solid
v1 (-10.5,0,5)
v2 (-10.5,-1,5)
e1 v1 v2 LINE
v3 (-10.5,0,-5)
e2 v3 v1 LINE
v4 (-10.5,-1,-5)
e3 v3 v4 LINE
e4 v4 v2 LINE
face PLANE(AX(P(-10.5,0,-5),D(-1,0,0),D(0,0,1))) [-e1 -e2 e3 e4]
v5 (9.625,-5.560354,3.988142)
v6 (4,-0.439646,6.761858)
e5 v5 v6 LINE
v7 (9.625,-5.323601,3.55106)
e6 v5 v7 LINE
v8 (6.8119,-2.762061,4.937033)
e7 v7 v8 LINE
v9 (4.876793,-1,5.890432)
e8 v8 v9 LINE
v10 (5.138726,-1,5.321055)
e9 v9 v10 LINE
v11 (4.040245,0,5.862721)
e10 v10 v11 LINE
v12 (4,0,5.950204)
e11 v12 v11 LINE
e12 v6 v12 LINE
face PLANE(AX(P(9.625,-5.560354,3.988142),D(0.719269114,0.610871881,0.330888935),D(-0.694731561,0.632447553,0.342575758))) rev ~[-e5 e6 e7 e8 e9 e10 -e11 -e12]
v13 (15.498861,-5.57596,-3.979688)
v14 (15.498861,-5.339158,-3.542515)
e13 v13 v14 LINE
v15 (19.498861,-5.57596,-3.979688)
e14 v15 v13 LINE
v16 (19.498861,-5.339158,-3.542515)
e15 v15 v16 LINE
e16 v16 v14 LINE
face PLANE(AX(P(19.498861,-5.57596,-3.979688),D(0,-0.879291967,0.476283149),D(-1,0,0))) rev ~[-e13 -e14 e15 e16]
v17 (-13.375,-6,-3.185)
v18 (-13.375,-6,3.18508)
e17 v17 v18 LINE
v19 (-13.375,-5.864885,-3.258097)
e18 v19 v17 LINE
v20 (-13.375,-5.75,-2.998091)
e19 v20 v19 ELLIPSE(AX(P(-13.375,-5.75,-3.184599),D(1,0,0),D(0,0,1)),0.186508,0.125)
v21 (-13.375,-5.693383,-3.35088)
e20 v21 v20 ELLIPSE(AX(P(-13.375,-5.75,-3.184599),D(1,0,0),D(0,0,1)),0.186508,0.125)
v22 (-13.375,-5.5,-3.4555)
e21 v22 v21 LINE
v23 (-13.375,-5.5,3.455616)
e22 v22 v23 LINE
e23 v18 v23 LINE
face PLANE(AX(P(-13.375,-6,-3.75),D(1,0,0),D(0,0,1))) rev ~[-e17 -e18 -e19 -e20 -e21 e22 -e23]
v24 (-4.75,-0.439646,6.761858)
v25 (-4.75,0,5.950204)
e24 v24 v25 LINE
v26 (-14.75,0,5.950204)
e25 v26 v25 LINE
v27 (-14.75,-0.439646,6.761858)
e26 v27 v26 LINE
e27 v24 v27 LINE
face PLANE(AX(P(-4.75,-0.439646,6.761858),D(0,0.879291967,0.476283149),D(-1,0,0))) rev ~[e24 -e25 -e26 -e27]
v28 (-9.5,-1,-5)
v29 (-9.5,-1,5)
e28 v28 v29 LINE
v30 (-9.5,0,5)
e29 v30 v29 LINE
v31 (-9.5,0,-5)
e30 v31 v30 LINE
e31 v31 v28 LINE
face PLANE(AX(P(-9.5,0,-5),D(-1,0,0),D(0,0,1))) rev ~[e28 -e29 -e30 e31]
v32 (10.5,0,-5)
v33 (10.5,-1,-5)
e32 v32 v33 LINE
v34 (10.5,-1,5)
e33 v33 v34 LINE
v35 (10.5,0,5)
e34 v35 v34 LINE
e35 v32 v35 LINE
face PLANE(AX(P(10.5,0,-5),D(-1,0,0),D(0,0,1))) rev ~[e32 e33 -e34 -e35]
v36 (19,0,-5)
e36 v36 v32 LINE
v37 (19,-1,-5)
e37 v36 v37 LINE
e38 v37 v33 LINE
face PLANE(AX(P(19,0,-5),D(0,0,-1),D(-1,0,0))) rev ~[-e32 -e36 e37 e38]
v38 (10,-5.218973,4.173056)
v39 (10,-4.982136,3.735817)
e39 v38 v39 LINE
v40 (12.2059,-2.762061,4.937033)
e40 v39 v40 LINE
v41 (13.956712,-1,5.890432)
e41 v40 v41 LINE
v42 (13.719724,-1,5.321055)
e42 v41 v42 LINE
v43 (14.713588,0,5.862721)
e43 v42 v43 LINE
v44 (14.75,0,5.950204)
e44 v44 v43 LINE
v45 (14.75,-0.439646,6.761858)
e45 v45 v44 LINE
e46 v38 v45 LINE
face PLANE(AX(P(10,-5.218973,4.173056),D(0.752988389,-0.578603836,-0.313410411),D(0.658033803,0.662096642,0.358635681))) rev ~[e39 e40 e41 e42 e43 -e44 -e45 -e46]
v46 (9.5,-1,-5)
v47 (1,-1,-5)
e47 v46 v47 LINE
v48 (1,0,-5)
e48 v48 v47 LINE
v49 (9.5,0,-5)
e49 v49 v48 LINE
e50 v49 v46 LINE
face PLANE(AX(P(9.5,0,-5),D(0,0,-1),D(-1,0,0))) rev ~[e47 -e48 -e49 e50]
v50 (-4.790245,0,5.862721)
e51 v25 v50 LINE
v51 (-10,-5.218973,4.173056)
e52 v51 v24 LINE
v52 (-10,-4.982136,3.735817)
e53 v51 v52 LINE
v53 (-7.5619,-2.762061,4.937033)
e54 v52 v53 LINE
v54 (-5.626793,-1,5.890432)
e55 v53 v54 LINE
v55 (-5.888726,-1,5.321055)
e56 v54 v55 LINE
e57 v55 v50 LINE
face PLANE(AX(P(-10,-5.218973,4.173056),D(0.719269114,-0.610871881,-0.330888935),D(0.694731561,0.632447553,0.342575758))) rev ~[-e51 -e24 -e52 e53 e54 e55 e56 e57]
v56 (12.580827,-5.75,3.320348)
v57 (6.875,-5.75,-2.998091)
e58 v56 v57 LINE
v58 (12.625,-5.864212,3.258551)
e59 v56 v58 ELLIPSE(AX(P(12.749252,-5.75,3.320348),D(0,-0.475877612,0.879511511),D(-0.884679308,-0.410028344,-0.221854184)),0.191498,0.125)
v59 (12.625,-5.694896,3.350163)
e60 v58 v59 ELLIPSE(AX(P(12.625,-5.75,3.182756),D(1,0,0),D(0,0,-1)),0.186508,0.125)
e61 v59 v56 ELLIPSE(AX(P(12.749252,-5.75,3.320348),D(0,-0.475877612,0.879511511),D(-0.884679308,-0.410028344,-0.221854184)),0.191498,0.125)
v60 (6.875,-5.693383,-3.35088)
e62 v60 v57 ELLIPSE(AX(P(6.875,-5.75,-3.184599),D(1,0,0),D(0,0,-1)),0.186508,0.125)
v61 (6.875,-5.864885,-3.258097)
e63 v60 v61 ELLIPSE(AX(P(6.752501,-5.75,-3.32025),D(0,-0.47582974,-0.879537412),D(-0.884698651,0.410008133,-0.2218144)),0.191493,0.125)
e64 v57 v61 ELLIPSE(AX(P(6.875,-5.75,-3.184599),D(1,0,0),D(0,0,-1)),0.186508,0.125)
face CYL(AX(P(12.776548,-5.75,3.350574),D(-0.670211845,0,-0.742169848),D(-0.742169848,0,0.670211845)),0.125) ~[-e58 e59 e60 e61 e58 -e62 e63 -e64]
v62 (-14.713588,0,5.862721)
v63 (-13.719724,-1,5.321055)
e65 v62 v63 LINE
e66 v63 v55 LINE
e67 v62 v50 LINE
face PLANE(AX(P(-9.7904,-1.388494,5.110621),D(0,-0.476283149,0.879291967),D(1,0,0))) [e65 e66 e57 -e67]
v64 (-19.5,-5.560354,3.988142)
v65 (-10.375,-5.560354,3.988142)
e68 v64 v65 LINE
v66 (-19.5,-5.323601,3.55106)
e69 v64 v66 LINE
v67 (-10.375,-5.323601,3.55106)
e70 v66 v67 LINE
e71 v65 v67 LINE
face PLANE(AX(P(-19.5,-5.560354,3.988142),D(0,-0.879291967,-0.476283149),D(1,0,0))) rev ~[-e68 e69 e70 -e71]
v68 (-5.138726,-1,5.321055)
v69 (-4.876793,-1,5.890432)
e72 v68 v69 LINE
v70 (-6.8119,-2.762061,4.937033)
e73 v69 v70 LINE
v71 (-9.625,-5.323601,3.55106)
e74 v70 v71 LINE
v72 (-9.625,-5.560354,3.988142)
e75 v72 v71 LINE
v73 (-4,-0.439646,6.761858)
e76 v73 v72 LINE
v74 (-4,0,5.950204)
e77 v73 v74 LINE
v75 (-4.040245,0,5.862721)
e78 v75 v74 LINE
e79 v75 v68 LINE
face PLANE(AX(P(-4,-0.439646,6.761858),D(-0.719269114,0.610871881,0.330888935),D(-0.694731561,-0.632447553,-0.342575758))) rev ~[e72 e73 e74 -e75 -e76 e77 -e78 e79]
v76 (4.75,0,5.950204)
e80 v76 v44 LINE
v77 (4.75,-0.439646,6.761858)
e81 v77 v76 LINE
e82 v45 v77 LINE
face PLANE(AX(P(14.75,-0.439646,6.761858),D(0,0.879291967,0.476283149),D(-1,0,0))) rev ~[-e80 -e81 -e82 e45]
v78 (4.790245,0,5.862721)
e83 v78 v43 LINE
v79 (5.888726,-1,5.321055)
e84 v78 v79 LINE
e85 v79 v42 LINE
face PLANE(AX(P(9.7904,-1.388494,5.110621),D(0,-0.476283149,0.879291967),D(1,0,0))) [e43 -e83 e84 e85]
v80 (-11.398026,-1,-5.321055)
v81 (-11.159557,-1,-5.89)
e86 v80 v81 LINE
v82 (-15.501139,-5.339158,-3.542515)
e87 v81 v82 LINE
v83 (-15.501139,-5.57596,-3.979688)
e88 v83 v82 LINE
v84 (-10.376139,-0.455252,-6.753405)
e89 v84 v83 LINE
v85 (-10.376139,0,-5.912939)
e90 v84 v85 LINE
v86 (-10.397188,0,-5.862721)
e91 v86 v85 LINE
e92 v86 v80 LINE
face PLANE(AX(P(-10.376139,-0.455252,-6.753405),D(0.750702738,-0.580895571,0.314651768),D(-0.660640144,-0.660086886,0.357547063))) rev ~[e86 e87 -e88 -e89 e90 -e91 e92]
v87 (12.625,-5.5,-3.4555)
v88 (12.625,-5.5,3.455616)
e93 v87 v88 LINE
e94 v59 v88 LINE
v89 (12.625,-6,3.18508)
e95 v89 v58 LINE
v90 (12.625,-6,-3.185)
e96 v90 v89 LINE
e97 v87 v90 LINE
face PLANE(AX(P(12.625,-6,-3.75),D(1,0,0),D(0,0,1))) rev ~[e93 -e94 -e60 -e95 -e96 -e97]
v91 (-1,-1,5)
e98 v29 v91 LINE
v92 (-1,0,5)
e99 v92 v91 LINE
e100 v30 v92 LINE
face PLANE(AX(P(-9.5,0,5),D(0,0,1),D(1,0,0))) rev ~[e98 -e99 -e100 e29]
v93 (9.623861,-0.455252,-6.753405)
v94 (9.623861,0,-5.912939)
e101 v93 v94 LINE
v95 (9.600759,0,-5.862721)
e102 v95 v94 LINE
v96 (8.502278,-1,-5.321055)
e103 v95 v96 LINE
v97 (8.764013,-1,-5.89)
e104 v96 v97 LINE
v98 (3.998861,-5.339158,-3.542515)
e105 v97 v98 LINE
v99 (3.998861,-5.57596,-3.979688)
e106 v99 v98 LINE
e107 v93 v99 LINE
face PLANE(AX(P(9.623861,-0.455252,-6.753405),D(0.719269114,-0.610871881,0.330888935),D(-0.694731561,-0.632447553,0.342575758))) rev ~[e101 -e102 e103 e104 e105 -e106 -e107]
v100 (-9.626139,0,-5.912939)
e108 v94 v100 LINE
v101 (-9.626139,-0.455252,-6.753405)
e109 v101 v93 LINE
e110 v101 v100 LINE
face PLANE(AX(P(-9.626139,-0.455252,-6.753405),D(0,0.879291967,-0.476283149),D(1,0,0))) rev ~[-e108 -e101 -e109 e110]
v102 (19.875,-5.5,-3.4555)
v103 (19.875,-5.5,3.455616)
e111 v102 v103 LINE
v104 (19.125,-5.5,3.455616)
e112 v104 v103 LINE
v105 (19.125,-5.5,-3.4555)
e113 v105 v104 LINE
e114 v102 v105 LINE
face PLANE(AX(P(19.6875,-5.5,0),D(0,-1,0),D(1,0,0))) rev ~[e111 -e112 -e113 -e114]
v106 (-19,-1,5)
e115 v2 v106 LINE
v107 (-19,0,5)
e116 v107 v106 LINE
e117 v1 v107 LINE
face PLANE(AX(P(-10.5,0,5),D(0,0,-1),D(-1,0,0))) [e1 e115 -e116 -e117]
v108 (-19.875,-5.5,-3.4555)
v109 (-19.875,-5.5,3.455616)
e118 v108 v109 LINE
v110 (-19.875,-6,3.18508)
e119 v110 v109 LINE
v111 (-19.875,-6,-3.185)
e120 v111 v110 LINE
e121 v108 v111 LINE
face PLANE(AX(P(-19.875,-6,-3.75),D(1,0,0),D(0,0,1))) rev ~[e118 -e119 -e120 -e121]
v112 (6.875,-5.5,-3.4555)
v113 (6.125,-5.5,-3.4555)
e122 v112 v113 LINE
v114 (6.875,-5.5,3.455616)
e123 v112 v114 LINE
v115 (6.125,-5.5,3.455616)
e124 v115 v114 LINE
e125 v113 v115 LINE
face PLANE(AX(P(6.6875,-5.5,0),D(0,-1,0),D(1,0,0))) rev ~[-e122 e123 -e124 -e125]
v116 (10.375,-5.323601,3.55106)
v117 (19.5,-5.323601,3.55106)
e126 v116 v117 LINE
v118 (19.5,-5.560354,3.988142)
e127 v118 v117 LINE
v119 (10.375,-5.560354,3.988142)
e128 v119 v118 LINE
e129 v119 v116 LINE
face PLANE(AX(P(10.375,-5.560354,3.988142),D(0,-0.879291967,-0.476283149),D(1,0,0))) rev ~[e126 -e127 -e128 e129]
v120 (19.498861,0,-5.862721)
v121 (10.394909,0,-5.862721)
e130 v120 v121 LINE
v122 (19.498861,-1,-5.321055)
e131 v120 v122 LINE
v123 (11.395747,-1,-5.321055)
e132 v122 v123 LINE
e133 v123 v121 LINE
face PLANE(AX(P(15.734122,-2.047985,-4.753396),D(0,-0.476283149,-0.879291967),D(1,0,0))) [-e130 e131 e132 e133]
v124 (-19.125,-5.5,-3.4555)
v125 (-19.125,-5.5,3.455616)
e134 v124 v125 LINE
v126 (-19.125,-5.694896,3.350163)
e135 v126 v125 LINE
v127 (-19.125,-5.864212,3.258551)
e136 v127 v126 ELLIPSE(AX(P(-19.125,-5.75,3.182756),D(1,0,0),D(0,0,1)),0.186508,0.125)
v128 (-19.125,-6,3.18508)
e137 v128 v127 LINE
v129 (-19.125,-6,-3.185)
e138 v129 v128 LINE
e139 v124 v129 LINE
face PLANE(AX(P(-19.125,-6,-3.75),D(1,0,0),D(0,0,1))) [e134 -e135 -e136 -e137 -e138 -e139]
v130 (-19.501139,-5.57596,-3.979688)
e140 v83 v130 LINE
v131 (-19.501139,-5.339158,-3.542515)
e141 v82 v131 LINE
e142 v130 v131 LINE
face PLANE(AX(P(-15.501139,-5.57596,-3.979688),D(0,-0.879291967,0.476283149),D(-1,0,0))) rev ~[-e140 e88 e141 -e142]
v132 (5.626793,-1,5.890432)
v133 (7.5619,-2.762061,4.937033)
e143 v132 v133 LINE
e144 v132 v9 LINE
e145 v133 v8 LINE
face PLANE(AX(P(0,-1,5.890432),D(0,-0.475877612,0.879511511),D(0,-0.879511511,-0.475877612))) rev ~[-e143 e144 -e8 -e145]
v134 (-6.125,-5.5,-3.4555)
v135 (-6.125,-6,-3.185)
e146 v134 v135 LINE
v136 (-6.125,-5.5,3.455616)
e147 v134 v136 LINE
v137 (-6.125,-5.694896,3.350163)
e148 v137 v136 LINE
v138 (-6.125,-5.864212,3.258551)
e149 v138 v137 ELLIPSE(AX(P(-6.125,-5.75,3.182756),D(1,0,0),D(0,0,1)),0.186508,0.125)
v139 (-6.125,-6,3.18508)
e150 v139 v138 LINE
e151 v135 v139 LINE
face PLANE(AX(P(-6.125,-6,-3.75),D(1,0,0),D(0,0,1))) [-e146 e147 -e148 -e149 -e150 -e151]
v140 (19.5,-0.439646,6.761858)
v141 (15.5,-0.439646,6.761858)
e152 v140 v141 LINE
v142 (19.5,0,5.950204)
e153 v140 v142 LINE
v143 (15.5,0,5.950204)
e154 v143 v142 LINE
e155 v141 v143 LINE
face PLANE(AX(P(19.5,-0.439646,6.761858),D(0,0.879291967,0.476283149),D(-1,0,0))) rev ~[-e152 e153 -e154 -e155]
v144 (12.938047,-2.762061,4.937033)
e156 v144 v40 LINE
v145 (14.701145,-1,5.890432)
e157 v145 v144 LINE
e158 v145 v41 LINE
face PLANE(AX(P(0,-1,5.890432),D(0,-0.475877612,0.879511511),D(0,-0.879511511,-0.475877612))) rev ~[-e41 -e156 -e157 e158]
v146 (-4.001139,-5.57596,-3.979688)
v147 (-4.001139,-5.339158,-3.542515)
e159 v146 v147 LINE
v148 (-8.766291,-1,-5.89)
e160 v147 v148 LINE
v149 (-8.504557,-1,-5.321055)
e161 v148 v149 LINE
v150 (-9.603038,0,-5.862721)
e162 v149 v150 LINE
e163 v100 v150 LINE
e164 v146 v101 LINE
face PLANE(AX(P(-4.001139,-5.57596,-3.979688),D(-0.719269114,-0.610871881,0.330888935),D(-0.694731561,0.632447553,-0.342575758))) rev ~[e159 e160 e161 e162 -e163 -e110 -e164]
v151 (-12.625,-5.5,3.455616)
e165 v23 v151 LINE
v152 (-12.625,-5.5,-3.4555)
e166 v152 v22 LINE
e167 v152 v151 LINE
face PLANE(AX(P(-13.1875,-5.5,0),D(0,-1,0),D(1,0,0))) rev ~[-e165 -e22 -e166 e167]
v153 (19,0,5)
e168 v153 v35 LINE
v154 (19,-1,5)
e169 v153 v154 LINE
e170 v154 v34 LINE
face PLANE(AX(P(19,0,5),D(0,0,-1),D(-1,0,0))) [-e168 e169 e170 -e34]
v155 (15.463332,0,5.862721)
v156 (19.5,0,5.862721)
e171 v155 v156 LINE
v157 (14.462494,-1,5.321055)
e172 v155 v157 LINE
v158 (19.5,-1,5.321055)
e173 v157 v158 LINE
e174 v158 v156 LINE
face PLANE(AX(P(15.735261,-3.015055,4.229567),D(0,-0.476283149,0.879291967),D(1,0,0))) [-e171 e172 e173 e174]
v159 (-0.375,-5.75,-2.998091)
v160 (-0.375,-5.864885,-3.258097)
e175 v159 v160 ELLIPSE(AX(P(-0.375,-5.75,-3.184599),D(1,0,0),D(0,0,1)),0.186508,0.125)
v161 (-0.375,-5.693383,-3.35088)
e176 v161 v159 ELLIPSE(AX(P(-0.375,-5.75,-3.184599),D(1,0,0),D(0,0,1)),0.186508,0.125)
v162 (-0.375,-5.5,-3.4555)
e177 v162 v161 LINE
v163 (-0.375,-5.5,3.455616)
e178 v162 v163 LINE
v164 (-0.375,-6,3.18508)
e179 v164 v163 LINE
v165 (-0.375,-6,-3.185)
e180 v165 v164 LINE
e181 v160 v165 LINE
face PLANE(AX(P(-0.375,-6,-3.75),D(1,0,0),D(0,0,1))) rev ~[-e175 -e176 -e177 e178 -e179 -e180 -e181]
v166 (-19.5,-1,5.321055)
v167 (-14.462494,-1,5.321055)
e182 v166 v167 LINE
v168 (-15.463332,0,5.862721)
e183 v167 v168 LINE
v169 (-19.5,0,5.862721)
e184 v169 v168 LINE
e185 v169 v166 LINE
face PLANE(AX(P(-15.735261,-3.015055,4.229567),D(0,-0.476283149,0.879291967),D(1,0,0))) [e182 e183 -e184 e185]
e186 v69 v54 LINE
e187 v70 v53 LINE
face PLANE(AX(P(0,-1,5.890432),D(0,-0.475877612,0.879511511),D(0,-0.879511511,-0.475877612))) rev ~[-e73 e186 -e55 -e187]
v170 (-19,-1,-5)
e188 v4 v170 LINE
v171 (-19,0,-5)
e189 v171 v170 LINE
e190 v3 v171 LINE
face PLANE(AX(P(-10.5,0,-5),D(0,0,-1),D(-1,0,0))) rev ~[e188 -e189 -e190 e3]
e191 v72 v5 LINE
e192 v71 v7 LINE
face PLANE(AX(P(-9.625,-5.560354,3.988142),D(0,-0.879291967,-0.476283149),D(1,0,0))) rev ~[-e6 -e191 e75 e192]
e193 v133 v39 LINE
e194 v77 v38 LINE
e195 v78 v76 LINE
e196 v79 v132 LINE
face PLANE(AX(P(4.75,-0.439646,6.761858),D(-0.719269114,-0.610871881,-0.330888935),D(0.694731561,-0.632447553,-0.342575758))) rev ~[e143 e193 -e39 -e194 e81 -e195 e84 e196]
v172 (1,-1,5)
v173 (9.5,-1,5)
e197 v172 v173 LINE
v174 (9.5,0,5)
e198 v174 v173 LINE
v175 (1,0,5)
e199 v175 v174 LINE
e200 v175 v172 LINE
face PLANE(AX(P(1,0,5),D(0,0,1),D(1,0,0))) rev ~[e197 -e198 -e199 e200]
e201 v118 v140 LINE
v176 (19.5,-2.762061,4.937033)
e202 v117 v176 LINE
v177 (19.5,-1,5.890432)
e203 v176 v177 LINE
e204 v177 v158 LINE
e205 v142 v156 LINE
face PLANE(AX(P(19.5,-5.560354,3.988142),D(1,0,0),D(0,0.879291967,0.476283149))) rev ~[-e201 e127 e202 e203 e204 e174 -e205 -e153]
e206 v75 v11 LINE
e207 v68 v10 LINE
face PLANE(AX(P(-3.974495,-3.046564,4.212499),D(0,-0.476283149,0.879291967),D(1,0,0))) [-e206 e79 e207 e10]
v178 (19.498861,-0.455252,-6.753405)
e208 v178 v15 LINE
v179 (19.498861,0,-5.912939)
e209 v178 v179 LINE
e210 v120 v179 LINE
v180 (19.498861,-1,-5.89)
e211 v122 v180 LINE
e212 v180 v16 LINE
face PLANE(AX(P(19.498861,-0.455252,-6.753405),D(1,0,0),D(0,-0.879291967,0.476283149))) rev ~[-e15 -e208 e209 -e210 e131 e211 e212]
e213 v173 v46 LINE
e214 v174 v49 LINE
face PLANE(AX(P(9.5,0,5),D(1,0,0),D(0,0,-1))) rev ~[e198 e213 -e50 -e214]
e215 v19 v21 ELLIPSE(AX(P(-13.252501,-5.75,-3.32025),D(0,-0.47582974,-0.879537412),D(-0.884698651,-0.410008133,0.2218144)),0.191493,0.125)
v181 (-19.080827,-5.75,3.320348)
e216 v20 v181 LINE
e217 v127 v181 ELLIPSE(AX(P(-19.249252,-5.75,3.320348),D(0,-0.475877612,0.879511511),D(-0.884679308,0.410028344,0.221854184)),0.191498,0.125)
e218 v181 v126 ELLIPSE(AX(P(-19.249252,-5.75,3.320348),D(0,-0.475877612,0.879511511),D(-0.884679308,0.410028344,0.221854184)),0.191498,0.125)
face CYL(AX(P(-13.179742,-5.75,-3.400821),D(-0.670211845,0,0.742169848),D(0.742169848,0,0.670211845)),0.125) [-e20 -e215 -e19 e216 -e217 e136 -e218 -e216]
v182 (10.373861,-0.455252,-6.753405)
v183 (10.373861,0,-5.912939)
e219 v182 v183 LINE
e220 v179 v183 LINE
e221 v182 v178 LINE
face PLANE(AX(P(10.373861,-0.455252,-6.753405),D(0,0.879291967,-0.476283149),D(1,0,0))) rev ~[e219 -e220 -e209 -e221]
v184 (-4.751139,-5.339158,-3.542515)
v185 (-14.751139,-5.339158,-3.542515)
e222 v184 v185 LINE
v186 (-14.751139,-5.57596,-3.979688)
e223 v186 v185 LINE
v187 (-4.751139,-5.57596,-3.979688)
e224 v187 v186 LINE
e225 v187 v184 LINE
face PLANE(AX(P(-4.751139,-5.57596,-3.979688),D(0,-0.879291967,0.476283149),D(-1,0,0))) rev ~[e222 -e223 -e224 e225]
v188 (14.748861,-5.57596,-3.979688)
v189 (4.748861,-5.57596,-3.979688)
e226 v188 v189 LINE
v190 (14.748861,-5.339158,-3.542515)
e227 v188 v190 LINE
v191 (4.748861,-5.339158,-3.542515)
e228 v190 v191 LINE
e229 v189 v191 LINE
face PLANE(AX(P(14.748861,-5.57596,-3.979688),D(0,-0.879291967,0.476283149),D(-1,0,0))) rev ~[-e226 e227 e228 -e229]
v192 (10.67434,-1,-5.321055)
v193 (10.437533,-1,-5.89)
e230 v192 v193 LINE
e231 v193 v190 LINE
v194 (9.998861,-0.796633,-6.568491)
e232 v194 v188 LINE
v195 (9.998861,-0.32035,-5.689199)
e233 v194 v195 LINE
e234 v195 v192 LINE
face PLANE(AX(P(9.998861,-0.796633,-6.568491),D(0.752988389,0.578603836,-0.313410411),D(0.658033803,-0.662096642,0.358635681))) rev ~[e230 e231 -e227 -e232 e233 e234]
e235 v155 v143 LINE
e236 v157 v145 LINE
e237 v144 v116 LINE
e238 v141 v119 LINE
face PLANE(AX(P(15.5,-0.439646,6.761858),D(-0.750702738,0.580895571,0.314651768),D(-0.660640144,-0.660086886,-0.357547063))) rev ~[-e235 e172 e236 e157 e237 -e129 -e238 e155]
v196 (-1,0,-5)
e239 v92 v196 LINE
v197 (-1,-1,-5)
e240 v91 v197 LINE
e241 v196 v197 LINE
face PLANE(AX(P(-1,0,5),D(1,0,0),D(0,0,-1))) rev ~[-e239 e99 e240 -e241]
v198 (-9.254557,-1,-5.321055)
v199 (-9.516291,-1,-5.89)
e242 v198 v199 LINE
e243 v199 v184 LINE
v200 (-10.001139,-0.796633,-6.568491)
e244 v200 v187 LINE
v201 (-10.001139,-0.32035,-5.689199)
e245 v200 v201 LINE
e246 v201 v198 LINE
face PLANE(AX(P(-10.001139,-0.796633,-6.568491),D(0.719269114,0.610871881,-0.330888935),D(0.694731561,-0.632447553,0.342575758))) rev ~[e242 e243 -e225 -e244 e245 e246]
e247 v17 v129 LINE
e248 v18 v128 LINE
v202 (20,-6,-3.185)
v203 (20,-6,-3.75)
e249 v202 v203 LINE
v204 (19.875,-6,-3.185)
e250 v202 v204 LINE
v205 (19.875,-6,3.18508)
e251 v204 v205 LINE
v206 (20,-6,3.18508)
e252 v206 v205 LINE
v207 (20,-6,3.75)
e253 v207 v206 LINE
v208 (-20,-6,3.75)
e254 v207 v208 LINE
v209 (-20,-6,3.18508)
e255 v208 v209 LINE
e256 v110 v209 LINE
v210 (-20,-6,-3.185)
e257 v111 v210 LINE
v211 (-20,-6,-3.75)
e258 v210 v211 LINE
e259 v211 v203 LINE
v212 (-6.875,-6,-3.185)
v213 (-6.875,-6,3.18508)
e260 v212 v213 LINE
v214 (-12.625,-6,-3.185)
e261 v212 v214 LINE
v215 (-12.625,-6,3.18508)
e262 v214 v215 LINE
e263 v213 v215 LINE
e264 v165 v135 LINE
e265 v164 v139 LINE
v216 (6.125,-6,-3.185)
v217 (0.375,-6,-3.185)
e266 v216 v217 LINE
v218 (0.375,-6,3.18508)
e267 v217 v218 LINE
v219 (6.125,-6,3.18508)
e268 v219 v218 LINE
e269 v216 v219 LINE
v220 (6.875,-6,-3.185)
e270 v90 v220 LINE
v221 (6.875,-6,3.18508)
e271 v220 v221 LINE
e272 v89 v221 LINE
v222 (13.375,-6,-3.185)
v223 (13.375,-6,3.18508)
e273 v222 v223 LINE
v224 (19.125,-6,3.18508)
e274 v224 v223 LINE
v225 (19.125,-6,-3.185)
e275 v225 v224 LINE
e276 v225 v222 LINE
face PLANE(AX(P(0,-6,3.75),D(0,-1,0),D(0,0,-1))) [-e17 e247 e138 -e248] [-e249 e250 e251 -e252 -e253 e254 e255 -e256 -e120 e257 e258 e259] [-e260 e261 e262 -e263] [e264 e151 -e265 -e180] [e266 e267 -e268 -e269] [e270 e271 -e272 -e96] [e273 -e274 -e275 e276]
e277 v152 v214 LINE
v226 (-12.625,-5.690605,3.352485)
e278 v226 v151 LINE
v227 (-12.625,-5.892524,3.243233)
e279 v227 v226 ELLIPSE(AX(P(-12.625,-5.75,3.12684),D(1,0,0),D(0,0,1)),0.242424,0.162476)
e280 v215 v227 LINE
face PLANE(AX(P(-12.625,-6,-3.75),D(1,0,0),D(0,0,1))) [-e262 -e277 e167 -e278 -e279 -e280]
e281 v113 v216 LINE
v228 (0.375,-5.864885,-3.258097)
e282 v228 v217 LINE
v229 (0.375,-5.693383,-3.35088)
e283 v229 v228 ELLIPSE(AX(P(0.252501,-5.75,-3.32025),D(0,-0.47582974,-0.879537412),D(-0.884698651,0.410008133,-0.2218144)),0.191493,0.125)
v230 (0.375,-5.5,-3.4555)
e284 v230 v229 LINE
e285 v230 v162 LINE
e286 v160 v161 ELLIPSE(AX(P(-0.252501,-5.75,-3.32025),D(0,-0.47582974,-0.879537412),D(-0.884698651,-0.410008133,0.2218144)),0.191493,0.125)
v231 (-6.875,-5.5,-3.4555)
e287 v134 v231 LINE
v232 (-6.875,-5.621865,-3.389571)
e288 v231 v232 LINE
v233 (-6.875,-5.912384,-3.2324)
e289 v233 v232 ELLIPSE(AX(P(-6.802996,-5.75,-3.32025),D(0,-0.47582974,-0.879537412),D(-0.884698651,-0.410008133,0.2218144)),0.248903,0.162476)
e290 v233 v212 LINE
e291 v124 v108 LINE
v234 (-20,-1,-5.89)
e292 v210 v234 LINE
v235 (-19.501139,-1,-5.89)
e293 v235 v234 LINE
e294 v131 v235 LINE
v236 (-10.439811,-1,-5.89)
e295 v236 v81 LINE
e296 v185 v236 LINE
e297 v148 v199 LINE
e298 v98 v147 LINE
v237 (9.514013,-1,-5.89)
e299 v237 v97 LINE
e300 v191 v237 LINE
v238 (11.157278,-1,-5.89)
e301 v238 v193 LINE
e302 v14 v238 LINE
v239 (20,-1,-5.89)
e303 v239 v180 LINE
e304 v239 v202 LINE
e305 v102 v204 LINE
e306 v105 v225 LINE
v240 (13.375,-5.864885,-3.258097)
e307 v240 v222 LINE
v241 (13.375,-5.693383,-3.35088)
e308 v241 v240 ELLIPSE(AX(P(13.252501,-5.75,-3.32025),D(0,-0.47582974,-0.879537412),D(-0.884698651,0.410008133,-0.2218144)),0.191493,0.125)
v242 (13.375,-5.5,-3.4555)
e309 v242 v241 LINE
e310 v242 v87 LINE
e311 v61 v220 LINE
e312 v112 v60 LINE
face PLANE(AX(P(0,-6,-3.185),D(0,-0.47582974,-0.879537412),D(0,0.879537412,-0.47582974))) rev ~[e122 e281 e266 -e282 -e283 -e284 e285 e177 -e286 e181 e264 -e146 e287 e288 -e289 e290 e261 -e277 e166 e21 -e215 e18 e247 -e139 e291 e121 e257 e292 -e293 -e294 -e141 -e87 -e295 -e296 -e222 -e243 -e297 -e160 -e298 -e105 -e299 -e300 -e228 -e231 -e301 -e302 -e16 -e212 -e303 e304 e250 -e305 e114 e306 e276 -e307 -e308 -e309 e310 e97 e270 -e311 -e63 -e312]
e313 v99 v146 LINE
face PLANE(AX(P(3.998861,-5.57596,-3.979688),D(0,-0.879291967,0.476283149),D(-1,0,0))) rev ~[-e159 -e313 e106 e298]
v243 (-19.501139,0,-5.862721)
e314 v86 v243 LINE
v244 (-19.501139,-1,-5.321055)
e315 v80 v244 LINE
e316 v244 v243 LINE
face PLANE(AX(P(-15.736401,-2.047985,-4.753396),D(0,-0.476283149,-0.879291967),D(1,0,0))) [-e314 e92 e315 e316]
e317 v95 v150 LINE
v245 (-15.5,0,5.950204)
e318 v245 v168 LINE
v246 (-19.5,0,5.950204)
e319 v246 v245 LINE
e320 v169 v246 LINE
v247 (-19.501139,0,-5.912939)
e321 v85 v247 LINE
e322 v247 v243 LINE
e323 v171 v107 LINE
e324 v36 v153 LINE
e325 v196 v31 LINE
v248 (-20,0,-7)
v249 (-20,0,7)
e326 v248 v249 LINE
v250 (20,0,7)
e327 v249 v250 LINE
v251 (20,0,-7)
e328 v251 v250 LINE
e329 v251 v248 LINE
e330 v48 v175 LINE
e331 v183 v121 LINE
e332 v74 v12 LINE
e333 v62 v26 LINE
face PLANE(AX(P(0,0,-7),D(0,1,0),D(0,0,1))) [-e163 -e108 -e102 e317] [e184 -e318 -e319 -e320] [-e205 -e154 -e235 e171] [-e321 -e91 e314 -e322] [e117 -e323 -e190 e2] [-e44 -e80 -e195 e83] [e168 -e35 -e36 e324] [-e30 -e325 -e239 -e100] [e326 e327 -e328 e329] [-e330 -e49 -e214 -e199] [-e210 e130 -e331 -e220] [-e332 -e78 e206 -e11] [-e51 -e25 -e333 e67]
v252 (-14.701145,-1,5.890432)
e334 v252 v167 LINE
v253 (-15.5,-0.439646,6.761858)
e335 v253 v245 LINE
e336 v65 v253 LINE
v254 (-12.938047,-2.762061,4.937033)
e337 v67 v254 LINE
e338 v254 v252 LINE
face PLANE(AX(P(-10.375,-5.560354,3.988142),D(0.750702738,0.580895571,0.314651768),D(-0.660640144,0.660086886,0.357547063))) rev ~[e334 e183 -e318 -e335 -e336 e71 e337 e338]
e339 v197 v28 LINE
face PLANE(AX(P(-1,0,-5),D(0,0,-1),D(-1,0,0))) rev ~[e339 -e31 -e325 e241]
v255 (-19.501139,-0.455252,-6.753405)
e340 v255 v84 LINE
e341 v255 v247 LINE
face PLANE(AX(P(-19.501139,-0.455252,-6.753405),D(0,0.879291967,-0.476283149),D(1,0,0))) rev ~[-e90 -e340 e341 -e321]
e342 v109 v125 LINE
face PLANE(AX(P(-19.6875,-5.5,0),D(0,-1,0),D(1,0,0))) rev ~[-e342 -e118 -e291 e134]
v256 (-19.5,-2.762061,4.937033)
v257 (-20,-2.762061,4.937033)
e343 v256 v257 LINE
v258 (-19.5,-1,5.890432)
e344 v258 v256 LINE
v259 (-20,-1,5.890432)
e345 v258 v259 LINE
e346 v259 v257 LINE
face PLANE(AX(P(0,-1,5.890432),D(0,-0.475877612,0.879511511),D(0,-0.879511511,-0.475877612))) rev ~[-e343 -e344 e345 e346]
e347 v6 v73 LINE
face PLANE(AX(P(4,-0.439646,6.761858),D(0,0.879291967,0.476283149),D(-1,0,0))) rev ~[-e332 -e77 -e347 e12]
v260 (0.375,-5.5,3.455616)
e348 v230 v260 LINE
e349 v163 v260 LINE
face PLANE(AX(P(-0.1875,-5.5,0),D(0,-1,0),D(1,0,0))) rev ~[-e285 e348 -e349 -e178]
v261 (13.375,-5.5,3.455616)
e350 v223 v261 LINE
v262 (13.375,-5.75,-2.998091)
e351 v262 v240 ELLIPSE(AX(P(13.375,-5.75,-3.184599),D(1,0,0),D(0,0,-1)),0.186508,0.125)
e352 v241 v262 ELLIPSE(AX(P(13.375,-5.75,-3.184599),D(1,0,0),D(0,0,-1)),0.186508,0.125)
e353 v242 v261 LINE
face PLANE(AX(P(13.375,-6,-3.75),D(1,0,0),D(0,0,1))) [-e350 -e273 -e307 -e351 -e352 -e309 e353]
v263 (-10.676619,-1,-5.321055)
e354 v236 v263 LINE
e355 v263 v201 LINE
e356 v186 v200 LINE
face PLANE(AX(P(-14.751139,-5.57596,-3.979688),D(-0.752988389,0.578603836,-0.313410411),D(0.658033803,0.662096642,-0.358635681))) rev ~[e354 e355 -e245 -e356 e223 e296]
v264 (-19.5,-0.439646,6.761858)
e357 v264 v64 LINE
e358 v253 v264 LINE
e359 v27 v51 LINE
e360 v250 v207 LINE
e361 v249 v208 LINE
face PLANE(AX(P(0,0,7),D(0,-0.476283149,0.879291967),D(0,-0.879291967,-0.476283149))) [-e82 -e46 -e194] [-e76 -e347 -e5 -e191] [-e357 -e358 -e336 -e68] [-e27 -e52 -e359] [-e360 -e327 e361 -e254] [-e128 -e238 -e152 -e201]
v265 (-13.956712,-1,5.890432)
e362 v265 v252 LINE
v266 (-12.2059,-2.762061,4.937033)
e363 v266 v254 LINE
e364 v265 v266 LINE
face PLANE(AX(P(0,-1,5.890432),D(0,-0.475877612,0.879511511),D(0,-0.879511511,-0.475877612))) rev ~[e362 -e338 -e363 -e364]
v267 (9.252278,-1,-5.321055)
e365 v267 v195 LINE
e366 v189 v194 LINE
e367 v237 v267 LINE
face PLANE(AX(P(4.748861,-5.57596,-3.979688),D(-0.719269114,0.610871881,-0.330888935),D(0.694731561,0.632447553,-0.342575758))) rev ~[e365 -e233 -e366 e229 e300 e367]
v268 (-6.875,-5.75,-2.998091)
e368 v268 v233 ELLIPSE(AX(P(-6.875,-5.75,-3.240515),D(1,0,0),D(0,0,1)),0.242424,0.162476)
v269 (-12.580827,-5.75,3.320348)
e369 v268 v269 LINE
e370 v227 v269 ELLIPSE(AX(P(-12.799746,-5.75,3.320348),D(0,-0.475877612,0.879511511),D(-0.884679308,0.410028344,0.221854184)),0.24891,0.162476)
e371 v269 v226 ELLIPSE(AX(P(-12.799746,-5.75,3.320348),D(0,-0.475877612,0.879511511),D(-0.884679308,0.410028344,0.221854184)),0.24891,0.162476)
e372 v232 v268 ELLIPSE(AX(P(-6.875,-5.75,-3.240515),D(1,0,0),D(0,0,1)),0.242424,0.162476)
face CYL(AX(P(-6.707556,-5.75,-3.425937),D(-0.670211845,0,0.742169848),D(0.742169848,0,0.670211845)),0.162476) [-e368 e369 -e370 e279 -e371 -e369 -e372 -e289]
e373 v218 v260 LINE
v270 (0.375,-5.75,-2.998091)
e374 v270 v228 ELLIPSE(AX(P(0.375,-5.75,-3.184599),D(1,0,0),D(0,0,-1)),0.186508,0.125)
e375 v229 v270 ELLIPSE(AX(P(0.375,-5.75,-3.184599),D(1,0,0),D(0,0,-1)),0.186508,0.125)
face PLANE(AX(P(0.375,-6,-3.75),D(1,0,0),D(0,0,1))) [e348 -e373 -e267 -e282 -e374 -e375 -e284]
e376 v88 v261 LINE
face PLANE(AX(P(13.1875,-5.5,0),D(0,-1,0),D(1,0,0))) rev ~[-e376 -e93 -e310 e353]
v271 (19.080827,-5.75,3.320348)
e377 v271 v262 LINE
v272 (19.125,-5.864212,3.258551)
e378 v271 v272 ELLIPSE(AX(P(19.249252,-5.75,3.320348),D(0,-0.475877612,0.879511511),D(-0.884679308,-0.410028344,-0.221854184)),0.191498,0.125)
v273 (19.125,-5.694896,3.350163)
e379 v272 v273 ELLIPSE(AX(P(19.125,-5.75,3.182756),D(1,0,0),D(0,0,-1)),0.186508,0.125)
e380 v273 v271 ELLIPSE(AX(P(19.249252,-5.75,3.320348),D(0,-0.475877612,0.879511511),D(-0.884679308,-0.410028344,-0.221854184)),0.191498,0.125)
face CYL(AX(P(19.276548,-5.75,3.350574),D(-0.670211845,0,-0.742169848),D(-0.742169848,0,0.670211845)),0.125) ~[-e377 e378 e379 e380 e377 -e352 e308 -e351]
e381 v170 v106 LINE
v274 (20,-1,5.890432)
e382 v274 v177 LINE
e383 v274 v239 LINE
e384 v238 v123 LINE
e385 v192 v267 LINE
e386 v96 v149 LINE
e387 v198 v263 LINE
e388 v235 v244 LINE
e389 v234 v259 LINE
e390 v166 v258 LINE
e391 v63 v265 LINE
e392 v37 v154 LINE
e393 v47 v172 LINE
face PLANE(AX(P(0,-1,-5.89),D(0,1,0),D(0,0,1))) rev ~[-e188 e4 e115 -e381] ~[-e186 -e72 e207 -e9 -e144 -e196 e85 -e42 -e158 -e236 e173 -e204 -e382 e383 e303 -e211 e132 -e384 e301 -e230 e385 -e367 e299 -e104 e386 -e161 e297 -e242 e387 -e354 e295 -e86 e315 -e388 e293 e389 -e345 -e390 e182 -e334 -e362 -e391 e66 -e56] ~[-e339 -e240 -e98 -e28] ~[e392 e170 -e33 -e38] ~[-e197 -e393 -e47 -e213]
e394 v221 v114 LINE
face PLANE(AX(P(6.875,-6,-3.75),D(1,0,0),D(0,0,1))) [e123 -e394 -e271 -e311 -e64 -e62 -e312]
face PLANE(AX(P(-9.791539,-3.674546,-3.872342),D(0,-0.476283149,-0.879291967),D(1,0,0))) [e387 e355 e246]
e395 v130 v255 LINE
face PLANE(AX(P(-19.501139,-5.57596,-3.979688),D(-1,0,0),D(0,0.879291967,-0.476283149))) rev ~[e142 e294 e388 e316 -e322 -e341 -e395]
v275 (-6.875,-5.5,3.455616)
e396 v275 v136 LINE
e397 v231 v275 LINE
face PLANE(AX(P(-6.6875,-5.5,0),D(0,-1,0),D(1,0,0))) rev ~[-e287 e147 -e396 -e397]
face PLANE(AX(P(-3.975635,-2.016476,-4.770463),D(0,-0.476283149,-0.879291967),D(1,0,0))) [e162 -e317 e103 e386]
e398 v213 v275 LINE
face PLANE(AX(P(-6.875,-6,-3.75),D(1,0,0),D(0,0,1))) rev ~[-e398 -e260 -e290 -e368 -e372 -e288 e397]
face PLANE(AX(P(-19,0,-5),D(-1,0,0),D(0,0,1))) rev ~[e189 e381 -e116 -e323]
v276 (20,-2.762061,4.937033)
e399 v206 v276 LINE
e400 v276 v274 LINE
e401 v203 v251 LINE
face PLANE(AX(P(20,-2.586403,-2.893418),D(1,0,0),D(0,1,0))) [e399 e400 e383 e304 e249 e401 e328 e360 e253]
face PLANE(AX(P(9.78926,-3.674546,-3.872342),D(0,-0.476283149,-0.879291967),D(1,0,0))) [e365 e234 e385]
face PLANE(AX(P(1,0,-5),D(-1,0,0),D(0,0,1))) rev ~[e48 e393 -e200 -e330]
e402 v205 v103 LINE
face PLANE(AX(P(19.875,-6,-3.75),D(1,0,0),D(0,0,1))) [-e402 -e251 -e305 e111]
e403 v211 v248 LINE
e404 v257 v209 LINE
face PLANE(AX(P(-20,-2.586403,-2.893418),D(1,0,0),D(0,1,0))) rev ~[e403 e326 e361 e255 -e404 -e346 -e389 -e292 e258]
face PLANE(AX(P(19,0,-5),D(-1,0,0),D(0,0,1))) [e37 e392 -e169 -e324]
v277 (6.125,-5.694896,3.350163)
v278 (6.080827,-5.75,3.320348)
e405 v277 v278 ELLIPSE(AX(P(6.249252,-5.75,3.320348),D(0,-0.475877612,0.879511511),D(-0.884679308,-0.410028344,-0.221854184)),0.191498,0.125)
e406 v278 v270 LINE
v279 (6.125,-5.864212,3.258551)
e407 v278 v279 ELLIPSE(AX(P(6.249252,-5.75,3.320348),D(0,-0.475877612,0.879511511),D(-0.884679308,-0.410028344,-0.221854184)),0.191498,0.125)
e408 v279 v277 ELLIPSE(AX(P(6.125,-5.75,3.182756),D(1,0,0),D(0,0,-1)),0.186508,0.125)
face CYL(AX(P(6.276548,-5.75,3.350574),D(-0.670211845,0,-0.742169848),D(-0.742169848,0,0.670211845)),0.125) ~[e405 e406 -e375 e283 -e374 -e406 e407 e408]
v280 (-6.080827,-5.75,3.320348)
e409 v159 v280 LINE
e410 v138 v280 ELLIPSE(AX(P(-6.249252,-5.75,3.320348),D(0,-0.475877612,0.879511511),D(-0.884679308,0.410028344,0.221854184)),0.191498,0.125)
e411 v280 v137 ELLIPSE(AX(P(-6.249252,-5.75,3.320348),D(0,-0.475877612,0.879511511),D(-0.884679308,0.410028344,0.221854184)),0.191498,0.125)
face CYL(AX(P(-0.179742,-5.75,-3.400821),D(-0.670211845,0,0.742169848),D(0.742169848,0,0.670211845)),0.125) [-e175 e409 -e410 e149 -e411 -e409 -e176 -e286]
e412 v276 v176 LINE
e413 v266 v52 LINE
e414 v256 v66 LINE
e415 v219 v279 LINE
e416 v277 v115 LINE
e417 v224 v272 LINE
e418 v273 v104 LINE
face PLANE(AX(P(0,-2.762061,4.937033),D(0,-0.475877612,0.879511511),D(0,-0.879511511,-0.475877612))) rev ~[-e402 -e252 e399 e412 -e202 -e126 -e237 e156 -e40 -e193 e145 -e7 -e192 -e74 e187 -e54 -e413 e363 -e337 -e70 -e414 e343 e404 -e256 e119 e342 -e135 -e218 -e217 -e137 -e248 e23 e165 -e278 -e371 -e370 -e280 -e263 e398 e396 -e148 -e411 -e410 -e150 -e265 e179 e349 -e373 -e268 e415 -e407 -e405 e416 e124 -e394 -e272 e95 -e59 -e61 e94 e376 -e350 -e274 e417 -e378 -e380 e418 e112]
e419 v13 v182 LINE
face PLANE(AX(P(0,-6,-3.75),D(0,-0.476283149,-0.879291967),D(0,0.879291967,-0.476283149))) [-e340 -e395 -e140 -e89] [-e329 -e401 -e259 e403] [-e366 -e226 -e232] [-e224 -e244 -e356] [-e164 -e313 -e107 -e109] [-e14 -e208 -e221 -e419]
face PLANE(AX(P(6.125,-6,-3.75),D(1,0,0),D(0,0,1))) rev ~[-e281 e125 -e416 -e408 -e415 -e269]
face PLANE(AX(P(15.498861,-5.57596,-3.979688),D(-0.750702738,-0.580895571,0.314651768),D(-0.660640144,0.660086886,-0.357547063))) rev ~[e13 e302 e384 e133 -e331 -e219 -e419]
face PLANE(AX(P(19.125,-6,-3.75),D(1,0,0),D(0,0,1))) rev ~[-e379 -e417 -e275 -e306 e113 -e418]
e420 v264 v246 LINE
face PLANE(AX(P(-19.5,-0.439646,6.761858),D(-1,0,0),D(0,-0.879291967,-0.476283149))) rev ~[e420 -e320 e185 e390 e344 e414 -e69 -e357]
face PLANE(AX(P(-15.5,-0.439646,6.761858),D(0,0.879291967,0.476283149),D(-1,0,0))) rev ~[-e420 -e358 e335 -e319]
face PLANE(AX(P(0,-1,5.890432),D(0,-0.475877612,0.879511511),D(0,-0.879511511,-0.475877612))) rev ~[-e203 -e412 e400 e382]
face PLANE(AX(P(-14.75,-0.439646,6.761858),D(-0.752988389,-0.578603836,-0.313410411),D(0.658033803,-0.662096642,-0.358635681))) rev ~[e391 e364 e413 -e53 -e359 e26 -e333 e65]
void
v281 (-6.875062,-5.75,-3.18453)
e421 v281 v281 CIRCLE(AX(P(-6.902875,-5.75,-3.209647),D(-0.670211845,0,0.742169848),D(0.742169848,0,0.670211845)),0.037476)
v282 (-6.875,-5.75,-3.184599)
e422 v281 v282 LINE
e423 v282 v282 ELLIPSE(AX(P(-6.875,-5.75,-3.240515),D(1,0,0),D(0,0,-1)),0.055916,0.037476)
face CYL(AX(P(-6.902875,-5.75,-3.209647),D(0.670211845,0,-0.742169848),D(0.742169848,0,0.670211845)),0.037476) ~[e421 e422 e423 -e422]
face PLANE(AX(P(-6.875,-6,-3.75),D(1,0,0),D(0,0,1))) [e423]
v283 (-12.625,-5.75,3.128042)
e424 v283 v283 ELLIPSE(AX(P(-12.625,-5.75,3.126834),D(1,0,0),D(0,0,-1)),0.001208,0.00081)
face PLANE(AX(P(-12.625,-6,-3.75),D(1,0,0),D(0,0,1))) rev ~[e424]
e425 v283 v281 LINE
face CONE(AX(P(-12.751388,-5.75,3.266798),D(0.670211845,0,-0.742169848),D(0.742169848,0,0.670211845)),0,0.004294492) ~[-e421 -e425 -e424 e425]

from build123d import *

# Parameters (mm, degrees)
F1_DEPTH      = 20
F1_DEPTH_BACK = 20
F3_DEPTH      = 24
F3_DEPTH_BACK = 24
F4_W          = 0.375
F4_H          = 7.5
F5_DEPTH      = 0.5
F16_W         = 8.5
F16_H         = 10
F17_DEPTH     = 1
F18_DEPTH     = 1
F19_DEPTH     = 1


with BuildPart() as f1:
    # F0 (on Right) → F1 (new body, two sides)
    with BuildSketch(Plane.YZ) as f1_sk:
        Polygon((0, -7), (0, 0), (-6, 0), (-6, -3.75), align=None)
        Polygon((-6, 0), (0, 0), (0, 7), (-6, 3.75), align=None)
    extrude(amount=F1_DEPTH)
    extrude(f1_sk.sketch, amount=-F1_DEPTH_BACK)

    # F2 (on Right) → F3 (cut, two sides)
    with BuildSketch(Plane.YZ) as f3_sk:
        Polygon((-1, 5.8904322458), (-2.7620611939, 4.9370331568), (-6, 3.185080433), (-6, -3.185), (-1, -5.89), (-1, 0), align=None)
    extrude(amount=-F3_DEPTH, mode=Mode.SUBTRACT)
    extrude(f3_sk.sketch, amount=F3_DEPTH_BACK, mode=Mode.SUBTRACT)

    # F4 (on face) → F5 (join)
    with BuildSketch(Plane.XZ.offset(6)):
        with Locations((-0.1875, 0)):
            Rectangle(F4_W, F4_H)
        with Locations((0.1875, 0)):
            Rectangle(F4_W, F4_H)
        with Locations((6.6875, 0)):
            Rectangle(F4_W, F4_H)
        with Locations((6.3125, 0)):
            Rectangle(F4_W, F4_H)
        with Locations((13.1875, 0)):
            Rectangle(F4_W, F4_H)
        with Locations((12.8125, 0)):
            Rectangle(F4_W, F4_H)
        with Locations((19.6875, 0)):
            Rectangle(F4_W, F4_H)
        with Locations((19.3125, 0)):
            Rectangle(F4_W, F4_H)
        with Locations((-6.6875, 0)):
            Rectangle(F4_W, F4_H)
        with Locations((-6.3125, 0)):
            Rectangle(F4_W, F4_H)
        with Locations((-13.1875, 0)):
            Rectangle(F4_W, F4_H)
        with Locations((-12.8125, 0)):
            Rectangle(F4_W, F4_H)
        with Locations((-19.6875, 0)):
            Rectangle(F4_W, F4_H)
        with Locations((-19.3125, 0)):
            Rectangle(F4_W, F4_H)
    extrude(amount=-F5_DEPTH)

    # F7 (on offset) → F8 (revolve)
    with BuildSketch(Plane.XZ.offset(5.75)):
        Polygon((-13.086971221, -3.3170442338), (-19.1837764068, 3.4343508854), (-19.2789044945, 3.353184308), (-13.3750620526, -3.1845304184), (-13.1797424519, -3.4008207144), align=None)
    revolve(axis=Axis((-16.3269832736, -5.75, 0.0843269448), (-0.6702118448, 0, 0.7421698479)))

    # F7 (on offset) → F9 (revolve)
    with BuildSketch(Plane.XZ.offset(5.75)):
        Polygon((-6.586971221, -3.3170442338), (-12.6837764068, 3.4343508854), (-12.8043608498, 3.3254578575), (-12.7513883635, 3.2667979242), (-6.8750620526, -3.1845304184), (-6.6797424519, -3.4008207144), align=None)
    revolve(axis=Axis((-12.7778746067, -5.75, 3.2961278908), (-0.6702118448, 0, 0.7421698479)))

    # F7 (on offset) → F10 (revolve)
    with BuildSketch(Plane.XZ.offset(5.75)):
        Polygon((-6.2765476378, 3.3505744048), (-0.3750620526, -3.1845304184), (-0.1797424519, -3.4008207144), (-0.086971221, -3.3170442338), (-6.1837764068, 3.4343508854), align=None)
    revolve(axis=Axis((-3.3258048452, -5.75, 0.0830219932), (-0.6702118448, 0, 0.7421698479)))

    # F7 (on offset) → F11 (revolve)
    with BuildSketch(Plane.XZ.offset(5.75)):
        Polygon((0.086971221, -3.3170442338), (0.1797424519, -3.4008207144), (0.3750620526, -3.1845304184), (6.2765476378, 3.3505744048), (6.1837764068, 3.4343508854), align=None)
    revolve(axis=Axis((3.3258048452, -5.75, 0.0830219932), (0.6702118448, 0, 0.7421698479)))

    # F7 (on offset) → F12 (revolve)
    with BuildSketch(Plane.XZ.offset(5.75)):
        Polygon((12.7765476378, 3.3505744048), (12.6837764068, 3.4343508854), (6.586971221, -3.3170442338), (6.6797424519, -3.4008207144), (6.8750620526, -3.1845304184), align=None)
    revolve(axis=Axis((9.8258048452, -5.75, 0.0830219932), (0.6702118448, 0, 0.7421698479)))

    # F7 (on offset) → F13 (revolve)
    with BuildSketch(Plane.XZ.offset(5.75)):
        Polygon((19.2765476378, 3.3505744048), (19.1837764068, 3.4343508854), (13.086971221, -3.3170442338), (13.1797424519, -3.4008207144), (13.3750620526, -3.1845304184), align=None)
    revolve(axis=Axis((16.3258048452, -5.75, 0.0830219932), (0.6702118448, 0, 0.7421698479)))

    # F16 (on face) → F17 (cut)
    with BuildSketch(Plane(origin=(0, 0, 0), x_dir=(-1, 0, 0), z_dir=(0, 1, 0))):
        with Locations((-14.75, 0)):
            Rectangle(F16_W, F16_H)
        Polygon((-1, -5), (-1, 0), (-1, 5), (-9.5, 5), (-9.5, -5), align=None)
        Polygon((9.5, -5), (9.5, 5), (1, 5), (1, 0), (1, -5), align=None)
        with Locations((14.75, 0)):
            Rectangle(F16_W, F16_H)
    extrude(amount=-F17_DEPTH, mode=Mode.SUBTRACT)

    # F14 (on face) → F18 (cut)
    with BuildSketch(Plane(origin=(0, -2.9315436242, 5.4120805369), x_dir=(1, 0, 0), z_dir=(0, -0.4762831485, 0.8792919665))):
        Polygon((-15.5, 2.8339820398), (-19.5, 2.8339820398), (-19.5, -2.9896899922), (-10.375, -2.9896899922), align=None)
        Polygon((-10, -2.6014451901), (-4.75, 2.8339820398), (-14.75, 2.8339820398), align=None)
        Polygon((0, -2.9896899922), (0, 2.8339820398), (-4, 2.8339820398), (-9.625, -2.9896899922), align=None)
        Polygon((4, 2.8339820398), (0, 2.8339820398), (0, -2.9896899922), (9.625, -2.9896899922), align=None)
        Polygon((14.75, 2.8339820398), (4.75, 2.8339820398), (10, -2.6014451901), align=None)
        Polygon((19.5, -2.9896899922), (19.5, 2.8339820398), (15.5, 2.8339820398), (10.375, -2.9896899922), align=None)
    extrude(amount=-F18_DEPTH, mode=Mode.SUBTRACT)

    # F15 (on face) → F19 (cut)
    with BuildSketch(Plane(origin=(0, -2.9315436242, -5.4120805369), x_dir=(1, 0, 0), z_dir=(0, -0.4762831485, -0.8792919665))):
        Polygon((-19.501139431, 3.0074388159), (-19.501139431, -2.8162332161), (-10.376139431, -2.8162332161), (-15.501139431, 3.0074388159), align=None)
        Polygon((-10.001139431, -2.4279884139), (-4.751139431, 3.0074388159), (-14.751139431, 3.0074388159), align=None)
        Polygon((-0.001139431, -2.8162332161), (-0.001139431, 3.0074388159), (-4.001139431, 3.0074388159), (-9.626139431, -2.8162332161), align=None)
        Polygon((3.998860569, 3.0074388159), (-0.001139431, 3.0074388159), (-0.001139431, -2.8162332161), (0.4340025901, -2.8162332161), (9.623860569, -2.8162332161), align=None)
        Polygon((14.748860569, 3.0074388159), (4.748860569, 3.0074388159), (9.998860569, -2.4279884139), align=None)
        Polygon((19.498860569, -2.8162332161), (19.498860569, 3.0074388159), (15.498860569, 3.0074388159), (10.373860569, -2.8162332161), align=None)
    extrude(amount=-F19_DEPTH, mode=Mode.SUBTRACT)


solid = f1.part
